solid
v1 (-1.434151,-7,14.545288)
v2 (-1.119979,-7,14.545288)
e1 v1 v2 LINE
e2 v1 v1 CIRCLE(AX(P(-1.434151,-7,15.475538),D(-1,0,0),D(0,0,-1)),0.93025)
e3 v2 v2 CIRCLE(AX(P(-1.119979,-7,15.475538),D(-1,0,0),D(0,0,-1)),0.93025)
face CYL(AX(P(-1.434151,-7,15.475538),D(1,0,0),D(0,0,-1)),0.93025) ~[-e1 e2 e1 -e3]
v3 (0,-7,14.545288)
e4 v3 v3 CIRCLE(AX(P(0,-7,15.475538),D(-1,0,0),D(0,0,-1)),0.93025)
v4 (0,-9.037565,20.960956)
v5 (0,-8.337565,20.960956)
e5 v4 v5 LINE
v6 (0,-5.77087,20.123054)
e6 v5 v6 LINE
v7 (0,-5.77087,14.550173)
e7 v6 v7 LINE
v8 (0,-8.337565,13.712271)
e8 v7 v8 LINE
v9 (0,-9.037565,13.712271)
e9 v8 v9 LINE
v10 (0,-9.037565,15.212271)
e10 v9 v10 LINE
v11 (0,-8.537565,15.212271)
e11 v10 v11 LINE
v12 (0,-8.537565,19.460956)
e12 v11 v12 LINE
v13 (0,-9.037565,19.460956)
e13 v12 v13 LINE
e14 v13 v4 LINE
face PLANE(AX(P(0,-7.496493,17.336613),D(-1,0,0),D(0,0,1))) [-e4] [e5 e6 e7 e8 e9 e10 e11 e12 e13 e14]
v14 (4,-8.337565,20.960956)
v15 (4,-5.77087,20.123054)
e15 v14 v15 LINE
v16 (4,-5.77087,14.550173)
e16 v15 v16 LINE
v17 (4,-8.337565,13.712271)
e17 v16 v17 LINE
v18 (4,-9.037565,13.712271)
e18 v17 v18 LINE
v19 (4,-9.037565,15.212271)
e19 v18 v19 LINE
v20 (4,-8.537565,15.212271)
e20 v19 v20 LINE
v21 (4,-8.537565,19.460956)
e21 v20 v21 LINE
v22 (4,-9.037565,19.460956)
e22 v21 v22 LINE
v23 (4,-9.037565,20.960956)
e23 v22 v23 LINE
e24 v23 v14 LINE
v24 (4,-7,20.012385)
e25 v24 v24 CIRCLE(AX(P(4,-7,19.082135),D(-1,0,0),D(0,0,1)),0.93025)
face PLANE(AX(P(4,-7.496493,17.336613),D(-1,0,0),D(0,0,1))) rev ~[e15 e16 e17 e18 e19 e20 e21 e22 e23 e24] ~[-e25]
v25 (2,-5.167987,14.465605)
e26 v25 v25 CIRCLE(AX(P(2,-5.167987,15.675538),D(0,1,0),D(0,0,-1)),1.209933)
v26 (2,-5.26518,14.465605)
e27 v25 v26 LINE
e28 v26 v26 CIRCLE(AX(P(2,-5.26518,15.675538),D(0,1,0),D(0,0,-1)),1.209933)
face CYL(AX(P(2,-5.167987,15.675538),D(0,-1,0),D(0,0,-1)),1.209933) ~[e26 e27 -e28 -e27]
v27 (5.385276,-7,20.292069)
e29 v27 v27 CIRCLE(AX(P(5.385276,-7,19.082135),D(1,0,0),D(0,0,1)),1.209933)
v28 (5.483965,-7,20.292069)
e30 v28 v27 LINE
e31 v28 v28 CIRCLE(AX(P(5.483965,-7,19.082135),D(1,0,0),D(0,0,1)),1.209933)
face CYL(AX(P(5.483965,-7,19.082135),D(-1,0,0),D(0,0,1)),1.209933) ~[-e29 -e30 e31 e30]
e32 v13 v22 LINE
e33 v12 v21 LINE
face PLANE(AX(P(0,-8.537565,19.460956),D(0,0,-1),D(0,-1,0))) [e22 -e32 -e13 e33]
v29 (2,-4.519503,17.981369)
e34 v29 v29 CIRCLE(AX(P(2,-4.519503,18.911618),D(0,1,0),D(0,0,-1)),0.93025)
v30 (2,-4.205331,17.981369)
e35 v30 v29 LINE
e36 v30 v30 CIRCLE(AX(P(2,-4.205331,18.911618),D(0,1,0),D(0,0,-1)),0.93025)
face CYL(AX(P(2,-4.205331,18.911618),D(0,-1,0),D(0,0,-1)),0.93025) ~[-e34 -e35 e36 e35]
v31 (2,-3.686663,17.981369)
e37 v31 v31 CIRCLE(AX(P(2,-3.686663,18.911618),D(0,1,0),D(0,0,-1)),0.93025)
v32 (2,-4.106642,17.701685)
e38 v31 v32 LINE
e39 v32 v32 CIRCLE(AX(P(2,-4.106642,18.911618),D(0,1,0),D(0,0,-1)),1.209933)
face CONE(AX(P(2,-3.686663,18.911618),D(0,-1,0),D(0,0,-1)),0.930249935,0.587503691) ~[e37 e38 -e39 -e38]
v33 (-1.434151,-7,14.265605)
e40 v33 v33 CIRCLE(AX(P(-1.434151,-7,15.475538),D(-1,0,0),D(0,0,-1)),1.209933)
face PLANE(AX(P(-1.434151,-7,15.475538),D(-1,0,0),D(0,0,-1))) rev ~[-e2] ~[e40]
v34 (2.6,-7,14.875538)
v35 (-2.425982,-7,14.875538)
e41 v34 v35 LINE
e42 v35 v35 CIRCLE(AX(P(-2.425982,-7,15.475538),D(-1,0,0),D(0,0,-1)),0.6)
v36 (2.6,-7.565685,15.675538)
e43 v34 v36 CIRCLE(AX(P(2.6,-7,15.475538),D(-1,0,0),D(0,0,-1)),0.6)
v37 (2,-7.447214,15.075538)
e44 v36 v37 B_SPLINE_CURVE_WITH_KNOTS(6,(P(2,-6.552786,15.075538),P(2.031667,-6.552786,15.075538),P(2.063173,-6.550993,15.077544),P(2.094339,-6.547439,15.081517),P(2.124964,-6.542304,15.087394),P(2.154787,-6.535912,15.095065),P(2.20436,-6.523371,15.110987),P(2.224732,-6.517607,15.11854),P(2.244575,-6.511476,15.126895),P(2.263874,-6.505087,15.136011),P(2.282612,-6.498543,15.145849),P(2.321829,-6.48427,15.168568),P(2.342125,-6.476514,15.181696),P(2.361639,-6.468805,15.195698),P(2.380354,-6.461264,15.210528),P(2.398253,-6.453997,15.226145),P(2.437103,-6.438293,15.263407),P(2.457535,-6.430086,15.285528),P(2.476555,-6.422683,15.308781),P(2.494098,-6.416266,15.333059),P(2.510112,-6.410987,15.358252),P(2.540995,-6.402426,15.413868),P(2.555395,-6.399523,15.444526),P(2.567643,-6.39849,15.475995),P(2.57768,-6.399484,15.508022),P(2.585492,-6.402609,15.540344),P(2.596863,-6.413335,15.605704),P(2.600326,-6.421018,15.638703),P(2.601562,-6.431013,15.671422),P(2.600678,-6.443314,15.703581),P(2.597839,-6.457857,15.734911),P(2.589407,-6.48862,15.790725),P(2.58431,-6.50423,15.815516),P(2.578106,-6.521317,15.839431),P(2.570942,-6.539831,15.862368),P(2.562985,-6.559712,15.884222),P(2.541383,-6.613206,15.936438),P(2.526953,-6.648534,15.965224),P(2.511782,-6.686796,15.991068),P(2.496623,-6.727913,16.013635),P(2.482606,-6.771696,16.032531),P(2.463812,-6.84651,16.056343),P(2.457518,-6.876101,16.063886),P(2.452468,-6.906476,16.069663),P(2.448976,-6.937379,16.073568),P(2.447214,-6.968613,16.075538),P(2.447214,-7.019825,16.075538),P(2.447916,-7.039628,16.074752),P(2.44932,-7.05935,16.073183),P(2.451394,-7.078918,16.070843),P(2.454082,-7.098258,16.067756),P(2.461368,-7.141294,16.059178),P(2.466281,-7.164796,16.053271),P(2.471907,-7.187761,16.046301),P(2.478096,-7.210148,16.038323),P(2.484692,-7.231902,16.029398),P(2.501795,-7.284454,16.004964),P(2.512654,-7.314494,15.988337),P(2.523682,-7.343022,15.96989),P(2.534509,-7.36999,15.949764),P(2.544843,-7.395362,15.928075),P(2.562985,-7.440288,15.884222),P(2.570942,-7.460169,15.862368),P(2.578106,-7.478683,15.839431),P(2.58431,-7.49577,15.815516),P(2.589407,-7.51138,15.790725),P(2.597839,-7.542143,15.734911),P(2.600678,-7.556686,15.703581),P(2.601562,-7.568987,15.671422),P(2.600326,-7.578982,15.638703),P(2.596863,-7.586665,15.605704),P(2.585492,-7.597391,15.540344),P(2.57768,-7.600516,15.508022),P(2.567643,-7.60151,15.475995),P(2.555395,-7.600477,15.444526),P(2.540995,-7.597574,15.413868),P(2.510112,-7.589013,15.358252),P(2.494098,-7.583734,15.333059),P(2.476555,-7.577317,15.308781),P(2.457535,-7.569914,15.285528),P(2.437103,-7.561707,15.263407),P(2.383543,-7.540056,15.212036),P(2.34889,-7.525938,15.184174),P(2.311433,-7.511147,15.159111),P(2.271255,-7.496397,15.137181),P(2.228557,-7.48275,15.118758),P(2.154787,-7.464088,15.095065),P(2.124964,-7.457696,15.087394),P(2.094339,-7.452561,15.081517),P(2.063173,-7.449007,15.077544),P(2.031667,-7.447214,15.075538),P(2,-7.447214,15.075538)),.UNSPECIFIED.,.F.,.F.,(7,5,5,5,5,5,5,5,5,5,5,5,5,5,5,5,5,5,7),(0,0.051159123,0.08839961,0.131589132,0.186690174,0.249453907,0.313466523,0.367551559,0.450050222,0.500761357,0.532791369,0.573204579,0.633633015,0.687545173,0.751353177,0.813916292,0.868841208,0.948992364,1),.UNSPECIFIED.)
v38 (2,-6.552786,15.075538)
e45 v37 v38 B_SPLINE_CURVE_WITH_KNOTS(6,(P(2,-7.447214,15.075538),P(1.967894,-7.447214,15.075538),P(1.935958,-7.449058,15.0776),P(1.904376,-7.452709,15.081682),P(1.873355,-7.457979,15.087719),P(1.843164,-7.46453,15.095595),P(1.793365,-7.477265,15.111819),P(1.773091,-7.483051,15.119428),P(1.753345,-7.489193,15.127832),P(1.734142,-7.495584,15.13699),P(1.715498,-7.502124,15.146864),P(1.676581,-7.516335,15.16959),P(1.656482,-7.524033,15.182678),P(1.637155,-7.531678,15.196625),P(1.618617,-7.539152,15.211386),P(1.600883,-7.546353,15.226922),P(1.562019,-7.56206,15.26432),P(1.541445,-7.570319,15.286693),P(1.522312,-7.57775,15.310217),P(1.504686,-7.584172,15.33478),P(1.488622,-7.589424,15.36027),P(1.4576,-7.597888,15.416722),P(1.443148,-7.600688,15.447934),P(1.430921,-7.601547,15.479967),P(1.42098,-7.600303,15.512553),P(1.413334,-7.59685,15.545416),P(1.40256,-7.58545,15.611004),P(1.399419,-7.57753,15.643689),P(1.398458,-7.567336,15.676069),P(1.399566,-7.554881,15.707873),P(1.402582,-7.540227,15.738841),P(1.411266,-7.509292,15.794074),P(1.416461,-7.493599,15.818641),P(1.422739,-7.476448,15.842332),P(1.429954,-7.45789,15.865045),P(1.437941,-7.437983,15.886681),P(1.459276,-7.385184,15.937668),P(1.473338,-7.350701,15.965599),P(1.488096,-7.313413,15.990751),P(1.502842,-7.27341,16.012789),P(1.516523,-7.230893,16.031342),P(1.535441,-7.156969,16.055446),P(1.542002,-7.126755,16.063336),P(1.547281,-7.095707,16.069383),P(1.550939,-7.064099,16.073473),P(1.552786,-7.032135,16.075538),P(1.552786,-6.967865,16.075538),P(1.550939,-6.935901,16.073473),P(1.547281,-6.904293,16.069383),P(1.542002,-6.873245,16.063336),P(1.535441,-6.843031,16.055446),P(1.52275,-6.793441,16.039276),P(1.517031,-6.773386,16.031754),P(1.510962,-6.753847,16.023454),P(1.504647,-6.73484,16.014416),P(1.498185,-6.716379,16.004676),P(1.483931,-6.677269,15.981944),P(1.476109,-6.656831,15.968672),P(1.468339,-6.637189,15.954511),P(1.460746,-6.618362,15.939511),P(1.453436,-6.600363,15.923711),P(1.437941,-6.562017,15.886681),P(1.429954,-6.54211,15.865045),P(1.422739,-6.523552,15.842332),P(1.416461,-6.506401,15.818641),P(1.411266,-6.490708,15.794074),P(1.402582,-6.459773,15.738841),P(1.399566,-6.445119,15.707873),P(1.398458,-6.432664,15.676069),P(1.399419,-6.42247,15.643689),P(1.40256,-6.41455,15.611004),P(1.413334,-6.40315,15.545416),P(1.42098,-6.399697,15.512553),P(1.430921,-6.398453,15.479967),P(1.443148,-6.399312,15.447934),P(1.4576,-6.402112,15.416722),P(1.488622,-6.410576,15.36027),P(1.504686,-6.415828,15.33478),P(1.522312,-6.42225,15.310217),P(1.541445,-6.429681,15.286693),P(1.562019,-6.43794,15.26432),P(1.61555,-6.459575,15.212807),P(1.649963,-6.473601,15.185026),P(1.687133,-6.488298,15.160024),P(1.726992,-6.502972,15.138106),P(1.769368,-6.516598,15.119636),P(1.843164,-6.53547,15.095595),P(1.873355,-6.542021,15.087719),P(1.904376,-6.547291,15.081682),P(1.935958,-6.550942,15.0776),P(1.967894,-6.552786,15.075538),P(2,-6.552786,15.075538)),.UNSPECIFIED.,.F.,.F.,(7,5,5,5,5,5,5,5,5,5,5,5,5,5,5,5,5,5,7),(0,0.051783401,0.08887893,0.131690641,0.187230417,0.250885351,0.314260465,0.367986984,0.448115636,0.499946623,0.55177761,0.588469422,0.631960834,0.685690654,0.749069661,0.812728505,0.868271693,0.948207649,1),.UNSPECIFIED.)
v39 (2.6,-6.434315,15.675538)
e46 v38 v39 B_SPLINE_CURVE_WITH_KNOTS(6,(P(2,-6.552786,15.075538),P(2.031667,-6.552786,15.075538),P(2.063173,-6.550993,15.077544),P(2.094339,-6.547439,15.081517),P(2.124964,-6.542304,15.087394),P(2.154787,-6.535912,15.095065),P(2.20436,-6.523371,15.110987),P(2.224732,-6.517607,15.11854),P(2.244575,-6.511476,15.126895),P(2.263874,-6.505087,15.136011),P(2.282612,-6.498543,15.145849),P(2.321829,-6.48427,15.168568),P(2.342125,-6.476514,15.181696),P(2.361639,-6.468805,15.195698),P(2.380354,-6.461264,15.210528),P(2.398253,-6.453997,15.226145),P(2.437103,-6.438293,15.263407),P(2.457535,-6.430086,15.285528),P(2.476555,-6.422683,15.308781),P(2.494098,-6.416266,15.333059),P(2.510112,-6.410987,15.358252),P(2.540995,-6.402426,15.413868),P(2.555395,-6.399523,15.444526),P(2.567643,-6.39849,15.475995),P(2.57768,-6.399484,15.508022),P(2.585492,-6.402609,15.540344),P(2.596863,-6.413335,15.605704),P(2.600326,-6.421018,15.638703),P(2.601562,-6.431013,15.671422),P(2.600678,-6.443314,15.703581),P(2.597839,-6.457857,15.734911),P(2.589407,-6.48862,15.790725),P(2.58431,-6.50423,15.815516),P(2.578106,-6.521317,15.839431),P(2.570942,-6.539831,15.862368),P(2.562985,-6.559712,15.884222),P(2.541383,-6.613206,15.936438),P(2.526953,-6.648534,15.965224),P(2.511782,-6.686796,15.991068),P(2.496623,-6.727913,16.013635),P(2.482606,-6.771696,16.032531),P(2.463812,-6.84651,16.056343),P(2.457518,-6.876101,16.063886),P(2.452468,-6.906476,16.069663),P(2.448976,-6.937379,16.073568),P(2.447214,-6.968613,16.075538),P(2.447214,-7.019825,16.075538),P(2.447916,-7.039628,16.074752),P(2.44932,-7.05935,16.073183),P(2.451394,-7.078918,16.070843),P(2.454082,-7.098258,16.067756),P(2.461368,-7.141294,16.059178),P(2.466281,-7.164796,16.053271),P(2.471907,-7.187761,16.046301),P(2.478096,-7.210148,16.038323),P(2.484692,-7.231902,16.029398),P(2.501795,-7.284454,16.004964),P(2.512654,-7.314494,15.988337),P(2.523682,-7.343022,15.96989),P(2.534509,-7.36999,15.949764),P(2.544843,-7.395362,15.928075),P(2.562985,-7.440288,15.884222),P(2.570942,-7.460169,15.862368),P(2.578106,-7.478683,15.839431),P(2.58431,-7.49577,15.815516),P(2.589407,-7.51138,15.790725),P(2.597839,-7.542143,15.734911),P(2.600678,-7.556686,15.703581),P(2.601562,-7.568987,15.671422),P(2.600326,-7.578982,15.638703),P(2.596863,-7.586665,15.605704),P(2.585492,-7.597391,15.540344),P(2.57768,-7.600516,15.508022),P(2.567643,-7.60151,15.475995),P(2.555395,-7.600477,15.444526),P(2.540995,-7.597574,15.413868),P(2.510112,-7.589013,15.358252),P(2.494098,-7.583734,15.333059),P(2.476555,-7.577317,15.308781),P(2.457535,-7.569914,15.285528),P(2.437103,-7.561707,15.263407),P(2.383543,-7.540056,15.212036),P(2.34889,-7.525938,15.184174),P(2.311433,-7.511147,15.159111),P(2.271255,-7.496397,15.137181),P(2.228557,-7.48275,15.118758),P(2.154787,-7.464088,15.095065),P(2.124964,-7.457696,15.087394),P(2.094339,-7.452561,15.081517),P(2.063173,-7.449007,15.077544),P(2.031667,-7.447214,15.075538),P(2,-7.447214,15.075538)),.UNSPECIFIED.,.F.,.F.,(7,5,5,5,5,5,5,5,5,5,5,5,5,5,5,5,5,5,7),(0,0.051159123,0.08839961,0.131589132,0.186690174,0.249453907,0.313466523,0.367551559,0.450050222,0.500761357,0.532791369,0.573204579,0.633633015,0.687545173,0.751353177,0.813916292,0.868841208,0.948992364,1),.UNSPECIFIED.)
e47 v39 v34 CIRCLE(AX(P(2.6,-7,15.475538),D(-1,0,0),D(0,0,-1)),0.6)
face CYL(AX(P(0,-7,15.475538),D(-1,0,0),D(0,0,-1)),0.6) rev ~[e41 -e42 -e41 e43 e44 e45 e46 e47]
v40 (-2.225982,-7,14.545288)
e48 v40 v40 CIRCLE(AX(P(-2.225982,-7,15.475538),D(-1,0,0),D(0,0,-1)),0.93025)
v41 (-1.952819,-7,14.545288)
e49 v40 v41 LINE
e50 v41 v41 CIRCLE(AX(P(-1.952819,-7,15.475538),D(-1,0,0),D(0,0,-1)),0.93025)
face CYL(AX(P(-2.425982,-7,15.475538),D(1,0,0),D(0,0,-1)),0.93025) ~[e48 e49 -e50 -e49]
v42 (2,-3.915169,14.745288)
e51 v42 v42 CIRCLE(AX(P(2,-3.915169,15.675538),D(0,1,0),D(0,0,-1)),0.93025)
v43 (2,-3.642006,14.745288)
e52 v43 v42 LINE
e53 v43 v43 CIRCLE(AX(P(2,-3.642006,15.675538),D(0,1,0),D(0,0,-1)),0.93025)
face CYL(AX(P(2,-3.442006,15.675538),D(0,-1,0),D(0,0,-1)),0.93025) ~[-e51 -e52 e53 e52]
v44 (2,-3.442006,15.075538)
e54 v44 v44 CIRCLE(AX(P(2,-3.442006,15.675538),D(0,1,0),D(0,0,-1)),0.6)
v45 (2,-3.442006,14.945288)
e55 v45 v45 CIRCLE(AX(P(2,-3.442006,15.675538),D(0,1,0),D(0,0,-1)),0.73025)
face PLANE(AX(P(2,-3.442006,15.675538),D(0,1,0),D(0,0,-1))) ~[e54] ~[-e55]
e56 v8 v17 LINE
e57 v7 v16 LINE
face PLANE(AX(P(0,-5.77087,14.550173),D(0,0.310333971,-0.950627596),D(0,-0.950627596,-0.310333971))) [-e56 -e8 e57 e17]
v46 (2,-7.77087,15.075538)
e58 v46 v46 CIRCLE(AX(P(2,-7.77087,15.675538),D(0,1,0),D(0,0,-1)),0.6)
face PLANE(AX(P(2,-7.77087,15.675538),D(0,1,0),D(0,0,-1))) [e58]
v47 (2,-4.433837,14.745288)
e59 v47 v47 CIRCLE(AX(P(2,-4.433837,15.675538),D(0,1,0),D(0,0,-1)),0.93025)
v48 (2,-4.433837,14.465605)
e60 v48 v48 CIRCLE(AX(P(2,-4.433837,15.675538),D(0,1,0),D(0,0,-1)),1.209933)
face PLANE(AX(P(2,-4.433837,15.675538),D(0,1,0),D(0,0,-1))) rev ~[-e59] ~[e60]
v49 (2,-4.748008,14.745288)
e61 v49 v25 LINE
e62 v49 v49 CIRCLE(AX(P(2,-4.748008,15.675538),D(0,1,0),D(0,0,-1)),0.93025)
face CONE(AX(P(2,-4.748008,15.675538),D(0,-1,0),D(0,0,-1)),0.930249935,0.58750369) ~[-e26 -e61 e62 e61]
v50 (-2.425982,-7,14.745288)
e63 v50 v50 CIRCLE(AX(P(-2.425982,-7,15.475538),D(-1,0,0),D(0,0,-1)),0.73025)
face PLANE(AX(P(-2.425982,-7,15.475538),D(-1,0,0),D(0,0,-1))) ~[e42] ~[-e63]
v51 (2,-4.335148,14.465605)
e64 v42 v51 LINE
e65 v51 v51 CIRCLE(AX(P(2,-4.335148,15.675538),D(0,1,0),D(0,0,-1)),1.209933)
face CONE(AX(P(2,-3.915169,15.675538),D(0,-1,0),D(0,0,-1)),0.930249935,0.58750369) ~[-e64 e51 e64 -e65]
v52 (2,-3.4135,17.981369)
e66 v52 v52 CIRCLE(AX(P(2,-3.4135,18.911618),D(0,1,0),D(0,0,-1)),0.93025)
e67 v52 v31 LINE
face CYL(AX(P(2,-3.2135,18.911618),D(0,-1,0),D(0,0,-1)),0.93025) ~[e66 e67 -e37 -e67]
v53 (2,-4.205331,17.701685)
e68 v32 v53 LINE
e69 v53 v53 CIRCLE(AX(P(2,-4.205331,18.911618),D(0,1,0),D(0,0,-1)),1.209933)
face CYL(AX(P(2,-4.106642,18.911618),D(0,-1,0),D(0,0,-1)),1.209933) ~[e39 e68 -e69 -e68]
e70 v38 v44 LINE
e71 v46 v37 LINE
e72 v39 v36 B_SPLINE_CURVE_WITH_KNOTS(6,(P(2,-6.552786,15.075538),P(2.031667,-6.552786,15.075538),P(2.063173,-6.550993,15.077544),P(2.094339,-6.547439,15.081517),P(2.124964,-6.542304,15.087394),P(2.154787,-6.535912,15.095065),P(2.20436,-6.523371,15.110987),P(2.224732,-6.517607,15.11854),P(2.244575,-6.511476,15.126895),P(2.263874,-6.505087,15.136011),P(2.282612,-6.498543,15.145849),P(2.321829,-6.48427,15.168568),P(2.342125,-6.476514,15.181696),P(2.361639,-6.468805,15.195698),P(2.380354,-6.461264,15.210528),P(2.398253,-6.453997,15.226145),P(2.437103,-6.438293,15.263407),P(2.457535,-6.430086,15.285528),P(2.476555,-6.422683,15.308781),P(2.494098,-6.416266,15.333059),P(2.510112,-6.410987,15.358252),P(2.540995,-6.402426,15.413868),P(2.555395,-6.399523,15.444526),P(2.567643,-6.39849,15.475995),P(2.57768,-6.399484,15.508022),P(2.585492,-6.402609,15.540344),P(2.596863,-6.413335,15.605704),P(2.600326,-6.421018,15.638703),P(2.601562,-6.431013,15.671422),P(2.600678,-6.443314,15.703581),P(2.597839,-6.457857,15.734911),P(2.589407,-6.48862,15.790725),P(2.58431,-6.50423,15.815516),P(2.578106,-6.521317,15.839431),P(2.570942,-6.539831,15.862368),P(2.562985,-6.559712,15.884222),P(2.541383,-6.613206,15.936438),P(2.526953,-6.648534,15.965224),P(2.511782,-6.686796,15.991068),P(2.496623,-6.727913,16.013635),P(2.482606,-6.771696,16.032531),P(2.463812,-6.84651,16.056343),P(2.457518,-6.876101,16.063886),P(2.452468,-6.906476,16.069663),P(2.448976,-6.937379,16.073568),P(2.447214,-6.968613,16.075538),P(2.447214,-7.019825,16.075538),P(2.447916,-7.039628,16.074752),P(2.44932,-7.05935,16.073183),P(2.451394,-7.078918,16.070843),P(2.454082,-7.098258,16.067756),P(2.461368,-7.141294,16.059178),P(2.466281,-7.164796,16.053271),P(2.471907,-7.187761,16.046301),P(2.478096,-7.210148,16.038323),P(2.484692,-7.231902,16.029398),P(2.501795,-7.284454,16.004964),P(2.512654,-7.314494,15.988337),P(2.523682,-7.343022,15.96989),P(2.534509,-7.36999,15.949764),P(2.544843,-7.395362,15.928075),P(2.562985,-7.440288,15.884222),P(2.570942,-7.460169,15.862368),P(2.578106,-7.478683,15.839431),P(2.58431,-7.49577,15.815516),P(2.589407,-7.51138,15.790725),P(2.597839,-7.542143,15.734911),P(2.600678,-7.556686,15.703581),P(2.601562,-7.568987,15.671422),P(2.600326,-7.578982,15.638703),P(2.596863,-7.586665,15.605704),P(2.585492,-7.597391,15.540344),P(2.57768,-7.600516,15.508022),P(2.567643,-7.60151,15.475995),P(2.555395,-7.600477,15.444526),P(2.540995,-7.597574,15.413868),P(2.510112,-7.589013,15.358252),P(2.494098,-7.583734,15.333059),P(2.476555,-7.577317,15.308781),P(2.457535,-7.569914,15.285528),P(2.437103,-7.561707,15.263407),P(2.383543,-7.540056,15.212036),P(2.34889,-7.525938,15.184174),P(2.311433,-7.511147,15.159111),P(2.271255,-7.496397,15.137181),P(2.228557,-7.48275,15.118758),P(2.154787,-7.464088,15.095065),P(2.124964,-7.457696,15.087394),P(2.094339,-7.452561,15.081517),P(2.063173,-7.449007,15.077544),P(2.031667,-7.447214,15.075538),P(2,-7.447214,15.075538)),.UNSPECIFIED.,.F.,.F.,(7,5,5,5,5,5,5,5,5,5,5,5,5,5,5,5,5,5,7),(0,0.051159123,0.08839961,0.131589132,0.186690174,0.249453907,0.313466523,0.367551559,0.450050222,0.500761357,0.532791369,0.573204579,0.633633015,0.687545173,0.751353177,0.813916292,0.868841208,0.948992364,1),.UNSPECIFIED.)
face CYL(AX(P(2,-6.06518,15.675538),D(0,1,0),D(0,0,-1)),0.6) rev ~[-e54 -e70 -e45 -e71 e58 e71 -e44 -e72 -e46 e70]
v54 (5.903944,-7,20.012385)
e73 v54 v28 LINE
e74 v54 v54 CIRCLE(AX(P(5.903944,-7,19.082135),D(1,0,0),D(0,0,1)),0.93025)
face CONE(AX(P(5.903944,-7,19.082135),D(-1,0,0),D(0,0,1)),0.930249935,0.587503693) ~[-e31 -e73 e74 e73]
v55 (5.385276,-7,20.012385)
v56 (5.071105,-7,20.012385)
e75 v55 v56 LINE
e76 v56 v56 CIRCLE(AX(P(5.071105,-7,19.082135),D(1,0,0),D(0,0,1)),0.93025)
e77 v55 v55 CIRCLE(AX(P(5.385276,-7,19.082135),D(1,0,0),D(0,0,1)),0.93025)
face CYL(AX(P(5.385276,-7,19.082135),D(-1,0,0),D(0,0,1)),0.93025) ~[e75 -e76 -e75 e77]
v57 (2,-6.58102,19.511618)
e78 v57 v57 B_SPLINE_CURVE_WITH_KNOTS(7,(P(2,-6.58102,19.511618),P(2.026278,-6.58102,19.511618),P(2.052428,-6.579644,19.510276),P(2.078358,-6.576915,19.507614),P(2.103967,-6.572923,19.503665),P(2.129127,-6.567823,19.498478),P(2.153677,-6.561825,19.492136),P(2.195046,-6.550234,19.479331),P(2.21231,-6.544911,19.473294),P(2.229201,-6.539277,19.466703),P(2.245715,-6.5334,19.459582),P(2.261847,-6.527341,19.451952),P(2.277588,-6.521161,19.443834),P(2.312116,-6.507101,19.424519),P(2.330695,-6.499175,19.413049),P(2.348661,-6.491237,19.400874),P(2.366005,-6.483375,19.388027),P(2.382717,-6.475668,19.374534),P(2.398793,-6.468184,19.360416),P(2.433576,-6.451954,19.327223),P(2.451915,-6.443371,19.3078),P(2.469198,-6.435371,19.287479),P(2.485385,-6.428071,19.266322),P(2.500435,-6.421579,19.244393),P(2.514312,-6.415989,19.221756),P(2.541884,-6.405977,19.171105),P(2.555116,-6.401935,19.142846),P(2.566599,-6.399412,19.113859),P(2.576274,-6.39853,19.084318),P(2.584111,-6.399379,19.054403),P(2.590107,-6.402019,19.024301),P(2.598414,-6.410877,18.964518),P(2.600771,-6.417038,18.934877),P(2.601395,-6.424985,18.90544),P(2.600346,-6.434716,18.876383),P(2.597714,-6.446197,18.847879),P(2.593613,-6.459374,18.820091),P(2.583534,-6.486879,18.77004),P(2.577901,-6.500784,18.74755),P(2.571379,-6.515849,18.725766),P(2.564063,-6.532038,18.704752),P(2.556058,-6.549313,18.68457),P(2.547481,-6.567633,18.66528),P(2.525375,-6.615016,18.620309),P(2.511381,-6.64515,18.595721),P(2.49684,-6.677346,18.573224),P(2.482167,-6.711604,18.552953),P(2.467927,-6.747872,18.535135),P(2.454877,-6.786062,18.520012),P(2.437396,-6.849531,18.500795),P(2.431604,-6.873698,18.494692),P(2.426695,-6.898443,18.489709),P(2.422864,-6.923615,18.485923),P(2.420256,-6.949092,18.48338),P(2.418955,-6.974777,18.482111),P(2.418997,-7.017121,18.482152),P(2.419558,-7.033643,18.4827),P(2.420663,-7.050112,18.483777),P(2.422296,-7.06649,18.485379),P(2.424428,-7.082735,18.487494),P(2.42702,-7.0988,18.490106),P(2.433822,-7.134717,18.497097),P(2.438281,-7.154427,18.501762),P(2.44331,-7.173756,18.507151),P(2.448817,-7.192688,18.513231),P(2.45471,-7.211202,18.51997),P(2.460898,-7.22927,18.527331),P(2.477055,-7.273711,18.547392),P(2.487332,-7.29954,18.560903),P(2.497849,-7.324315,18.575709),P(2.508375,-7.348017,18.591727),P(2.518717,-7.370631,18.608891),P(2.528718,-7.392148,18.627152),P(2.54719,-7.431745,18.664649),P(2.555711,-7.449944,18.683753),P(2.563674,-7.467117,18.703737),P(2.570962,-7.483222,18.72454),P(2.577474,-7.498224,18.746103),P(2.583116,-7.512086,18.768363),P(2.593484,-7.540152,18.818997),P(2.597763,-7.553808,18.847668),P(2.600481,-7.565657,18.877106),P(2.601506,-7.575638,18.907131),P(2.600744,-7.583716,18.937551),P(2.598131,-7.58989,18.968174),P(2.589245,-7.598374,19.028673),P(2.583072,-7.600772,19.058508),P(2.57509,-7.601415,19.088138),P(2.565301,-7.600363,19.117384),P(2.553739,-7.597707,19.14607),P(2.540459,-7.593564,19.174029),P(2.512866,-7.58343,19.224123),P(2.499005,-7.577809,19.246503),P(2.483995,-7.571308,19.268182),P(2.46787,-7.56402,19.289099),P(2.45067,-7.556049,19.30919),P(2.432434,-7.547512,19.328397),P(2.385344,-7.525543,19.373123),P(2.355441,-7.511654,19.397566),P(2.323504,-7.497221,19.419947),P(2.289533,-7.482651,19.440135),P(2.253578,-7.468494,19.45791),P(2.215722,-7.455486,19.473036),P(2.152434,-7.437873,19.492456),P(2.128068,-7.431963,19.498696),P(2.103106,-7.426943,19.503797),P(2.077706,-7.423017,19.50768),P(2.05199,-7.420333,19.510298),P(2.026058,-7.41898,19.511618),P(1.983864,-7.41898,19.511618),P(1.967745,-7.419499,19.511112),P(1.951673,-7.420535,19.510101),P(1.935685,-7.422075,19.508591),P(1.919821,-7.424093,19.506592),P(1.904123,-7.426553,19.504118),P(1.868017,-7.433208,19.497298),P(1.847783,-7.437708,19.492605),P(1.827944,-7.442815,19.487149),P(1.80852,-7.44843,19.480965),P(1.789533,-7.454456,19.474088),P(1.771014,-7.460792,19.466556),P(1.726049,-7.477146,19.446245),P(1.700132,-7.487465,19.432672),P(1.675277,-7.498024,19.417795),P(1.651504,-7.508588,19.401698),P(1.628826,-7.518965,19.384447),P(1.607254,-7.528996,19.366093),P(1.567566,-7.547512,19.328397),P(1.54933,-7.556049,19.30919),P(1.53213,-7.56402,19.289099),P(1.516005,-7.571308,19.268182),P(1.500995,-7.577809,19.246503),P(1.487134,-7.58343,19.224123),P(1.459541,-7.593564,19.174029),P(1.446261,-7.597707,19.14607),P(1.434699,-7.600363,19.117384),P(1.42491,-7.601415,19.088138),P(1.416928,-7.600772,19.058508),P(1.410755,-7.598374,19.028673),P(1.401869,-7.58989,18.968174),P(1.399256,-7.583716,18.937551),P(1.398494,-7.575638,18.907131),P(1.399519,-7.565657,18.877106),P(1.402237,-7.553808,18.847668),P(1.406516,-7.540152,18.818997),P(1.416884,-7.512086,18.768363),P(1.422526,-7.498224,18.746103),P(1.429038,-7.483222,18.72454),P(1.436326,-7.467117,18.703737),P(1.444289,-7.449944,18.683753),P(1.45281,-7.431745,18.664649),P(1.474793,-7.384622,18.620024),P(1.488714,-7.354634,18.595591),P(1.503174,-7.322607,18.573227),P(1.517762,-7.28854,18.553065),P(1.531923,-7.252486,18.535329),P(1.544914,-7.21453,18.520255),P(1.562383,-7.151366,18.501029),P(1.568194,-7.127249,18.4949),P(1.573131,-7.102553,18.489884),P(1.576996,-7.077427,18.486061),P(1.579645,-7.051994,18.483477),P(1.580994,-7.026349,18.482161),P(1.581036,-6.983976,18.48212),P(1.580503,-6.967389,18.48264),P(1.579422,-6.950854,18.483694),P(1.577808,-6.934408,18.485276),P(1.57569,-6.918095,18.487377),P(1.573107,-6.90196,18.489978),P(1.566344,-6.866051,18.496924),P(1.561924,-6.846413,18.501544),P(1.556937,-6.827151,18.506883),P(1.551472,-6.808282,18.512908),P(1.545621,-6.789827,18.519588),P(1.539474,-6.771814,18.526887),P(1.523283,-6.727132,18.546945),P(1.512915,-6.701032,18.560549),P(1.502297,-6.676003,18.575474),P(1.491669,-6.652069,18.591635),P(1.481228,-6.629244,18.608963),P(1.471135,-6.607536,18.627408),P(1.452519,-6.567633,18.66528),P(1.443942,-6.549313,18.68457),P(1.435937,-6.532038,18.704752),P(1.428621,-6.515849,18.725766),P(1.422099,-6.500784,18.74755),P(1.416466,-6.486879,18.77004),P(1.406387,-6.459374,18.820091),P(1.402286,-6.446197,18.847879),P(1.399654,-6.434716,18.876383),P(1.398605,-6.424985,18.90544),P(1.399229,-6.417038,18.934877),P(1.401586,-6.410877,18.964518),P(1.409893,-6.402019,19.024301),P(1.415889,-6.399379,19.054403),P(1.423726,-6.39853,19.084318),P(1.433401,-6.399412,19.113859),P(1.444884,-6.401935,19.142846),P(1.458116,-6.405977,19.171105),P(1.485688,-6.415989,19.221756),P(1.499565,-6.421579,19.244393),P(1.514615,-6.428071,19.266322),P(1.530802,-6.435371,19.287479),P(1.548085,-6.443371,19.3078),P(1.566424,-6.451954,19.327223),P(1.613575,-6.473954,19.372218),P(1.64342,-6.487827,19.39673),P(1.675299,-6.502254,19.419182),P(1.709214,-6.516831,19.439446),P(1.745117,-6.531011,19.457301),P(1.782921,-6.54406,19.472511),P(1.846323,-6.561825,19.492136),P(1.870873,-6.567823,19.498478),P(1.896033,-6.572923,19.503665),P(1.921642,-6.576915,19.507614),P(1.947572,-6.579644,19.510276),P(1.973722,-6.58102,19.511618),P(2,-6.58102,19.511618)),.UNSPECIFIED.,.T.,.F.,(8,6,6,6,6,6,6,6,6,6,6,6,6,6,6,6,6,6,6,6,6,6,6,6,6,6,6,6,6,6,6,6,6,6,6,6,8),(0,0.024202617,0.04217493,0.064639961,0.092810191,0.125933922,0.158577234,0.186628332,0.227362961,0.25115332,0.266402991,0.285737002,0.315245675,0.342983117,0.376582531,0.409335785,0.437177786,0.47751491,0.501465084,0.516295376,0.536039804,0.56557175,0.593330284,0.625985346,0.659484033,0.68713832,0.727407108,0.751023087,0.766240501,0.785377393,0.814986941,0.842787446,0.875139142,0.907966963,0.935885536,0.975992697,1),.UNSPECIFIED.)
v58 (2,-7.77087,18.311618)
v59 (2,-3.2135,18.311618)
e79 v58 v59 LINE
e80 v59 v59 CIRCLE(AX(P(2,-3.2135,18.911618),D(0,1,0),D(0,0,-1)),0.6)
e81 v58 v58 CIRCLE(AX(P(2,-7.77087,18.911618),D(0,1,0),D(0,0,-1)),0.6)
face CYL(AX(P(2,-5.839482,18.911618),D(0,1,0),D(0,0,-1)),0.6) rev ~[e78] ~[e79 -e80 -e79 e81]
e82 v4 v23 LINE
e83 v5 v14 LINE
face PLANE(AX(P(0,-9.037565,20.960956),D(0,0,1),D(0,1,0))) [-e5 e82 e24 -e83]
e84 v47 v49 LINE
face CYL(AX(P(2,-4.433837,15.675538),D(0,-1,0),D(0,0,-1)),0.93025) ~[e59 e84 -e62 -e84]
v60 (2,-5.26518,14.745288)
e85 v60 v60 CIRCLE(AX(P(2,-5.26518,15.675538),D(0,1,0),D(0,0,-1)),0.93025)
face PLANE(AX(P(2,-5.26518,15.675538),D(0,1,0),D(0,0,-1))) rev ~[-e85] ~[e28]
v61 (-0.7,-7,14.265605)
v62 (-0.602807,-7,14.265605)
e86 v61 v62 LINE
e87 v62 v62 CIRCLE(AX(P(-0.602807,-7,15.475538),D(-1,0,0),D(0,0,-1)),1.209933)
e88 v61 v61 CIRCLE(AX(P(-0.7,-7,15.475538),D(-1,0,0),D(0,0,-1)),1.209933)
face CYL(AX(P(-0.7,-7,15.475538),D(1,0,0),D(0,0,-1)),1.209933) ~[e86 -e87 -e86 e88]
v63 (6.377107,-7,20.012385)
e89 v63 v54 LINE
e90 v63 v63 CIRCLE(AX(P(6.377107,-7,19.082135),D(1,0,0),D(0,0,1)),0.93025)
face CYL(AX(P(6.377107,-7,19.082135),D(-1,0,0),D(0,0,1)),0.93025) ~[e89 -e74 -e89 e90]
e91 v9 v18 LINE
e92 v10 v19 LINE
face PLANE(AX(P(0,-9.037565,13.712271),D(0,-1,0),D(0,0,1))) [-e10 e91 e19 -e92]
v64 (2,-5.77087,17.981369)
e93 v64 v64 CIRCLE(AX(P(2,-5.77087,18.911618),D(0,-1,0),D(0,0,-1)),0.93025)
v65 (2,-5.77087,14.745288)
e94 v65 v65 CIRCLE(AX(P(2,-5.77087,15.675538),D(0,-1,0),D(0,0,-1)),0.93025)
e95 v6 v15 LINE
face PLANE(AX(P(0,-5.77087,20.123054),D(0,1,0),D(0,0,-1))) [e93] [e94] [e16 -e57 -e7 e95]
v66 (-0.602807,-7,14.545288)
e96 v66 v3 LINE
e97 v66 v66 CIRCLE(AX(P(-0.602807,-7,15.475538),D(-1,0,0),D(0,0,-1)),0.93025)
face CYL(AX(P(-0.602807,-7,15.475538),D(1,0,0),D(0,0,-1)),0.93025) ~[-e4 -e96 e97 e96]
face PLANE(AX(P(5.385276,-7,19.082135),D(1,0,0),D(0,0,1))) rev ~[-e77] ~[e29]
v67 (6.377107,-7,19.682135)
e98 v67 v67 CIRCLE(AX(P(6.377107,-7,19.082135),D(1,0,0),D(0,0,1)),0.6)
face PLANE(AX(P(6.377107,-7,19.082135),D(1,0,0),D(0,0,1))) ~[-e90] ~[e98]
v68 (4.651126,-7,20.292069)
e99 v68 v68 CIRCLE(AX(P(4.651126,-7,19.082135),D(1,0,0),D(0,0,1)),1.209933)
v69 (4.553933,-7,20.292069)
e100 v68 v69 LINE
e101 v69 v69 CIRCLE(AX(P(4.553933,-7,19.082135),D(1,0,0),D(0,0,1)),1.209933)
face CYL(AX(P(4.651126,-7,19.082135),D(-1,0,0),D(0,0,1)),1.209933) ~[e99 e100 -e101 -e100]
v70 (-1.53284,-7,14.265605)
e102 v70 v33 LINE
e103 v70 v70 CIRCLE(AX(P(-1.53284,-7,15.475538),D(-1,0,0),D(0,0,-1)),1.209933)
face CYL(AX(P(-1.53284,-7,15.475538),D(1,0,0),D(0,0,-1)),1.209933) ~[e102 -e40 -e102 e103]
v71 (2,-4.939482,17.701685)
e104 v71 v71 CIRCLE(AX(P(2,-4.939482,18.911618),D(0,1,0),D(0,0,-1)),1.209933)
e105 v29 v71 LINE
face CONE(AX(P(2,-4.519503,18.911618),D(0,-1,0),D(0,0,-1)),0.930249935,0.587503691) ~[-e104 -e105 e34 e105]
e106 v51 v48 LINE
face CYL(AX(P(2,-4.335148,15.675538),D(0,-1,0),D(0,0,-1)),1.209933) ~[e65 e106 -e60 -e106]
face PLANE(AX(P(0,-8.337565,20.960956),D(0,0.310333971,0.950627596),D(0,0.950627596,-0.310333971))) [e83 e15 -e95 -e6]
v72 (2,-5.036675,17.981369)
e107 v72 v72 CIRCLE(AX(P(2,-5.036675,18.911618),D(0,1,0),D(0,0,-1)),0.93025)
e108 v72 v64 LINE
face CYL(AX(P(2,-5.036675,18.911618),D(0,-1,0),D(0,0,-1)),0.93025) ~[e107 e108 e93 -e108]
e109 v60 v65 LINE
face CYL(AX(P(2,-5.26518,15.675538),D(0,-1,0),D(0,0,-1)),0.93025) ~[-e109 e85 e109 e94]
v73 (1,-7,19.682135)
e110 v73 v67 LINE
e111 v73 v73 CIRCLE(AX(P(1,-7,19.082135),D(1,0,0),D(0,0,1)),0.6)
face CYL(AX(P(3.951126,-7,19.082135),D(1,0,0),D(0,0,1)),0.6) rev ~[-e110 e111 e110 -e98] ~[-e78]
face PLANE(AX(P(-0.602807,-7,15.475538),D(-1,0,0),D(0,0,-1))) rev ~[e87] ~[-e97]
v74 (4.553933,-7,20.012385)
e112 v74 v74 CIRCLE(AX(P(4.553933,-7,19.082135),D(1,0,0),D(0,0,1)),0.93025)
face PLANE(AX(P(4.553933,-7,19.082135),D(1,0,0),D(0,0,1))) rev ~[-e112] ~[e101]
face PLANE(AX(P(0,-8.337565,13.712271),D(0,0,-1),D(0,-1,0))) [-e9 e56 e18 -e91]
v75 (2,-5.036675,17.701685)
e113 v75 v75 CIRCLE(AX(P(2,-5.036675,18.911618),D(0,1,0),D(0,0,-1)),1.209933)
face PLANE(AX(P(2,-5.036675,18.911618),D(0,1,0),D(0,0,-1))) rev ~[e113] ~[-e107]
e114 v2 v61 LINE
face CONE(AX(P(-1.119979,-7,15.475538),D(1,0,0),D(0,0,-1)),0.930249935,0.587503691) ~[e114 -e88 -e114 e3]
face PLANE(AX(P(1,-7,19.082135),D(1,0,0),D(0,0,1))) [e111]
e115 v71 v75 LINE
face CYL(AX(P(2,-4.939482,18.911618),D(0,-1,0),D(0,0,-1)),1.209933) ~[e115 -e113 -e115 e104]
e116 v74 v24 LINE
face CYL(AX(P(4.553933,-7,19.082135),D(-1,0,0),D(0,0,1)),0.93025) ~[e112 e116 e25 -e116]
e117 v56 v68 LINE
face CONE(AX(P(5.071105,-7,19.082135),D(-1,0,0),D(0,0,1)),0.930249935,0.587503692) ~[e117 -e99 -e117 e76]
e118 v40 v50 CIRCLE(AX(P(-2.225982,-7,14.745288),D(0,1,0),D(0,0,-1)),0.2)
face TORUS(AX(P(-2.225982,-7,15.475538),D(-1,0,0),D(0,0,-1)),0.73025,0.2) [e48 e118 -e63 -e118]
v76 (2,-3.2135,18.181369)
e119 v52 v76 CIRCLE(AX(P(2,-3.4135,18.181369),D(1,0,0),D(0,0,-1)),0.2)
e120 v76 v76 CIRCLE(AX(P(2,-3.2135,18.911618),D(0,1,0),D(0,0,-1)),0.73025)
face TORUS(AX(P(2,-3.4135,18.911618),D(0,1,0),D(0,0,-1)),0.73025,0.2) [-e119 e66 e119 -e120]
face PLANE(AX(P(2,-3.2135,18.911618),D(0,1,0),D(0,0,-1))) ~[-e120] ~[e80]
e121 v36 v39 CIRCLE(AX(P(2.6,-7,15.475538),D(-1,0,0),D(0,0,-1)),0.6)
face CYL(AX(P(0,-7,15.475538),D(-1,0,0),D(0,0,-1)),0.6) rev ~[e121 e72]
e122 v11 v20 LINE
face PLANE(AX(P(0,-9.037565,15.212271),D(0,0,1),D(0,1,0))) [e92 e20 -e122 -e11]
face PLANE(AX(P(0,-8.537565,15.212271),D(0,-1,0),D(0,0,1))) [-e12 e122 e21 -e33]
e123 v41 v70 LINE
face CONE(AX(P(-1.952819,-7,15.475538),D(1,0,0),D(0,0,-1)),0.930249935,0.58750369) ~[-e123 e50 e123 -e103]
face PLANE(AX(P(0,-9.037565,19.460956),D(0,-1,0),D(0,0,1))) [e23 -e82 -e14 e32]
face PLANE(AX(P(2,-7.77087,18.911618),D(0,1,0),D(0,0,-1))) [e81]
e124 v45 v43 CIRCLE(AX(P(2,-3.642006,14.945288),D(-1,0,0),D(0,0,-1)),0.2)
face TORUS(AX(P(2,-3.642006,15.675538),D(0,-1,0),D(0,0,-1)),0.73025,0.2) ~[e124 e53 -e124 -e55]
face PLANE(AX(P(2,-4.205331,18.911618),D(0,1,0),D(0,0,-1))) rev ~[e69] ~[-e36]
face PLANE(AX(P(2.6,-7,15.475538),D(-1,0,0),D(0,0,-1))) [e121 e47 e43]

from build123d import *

# Parameters (mm, degrees)
BOSS_EXTRUDE2_DEPTH = 4
SKETCH10_R          = 0.6
CUT_EXTRUDE3_DEPTH  = 2
SKETCH14_R          = 0.6
CUT_EXTRUDE5_DEPTH  = 2.6
SKETCH15_R          = 0.6
CUT_EXTRUDE6_DEPTH  = 3
FILLET3_R           = 0.2


with BuildPart() as part:
    # Sketch3 → Boss-Extrude2 (new body)
    with BuildSketch(Plane(origin=(0, 0, 0), x_dir=(0, 0, -1), z_dir=(1, 0, 0))):
        Polygon((-20.123053839, -5.770870406), (-14.550172907, -5.770870406), (-13.712271186, -8.337564915), (-13.712271186, -9.037564915), (-15.212271186, -9.037564915), (-15.212271186, -8.537564915), (-19.46095556, -8.537564915), (-19.46095556, -9.037564915), (-20.96095556, -9.037564915), (-20.96095556, -8.337564915), align=None)
    extrude(amount=BOSS_EXTRUDE2_DEPTH)

    # Sketch5 → Revolve2 (revolve)
    with BuildSketch(Plane(origin=(2, 0, 0), x_dir=(0, 0, -1), z_dir=(1, 0, 0)), mode=Mode.PRIVATE) as revolve2_sk:
        Polygon((-19.841868378, -5.839481614), (-19.511618443, -5.839481614), (-19.511618443, -3.21350004), (-19.841868378, -3.21350004), (-19.841868378, -3.686663005), (-20.121551797, -4.10664197), (-20.121551797, -4.205331029), (-19.841868378, -4.205331029), (-19.841868378, -4.519502648), (-20.121551797, -4.939481613), (-20.121551797, -5.036674624), (-19.841868378, -5.036674624), align=None)
    revolve(revolve2_sk.sketch.rotate(Axis((2, -5.639481613, 18.911618443), (0, 1, 0)), 180), axis=Axis((2, -5.639481613, 18.911618443), (0, 1, 0)))

    # Sketch6 → Revolve3 (revolve)
    with BuildSketch(Plane(origin=(2, 0, 0), x_dir=(0, 0, -1), z_dir=(1, 0, 0)), mode=Mode.PRIVATE) as revolve3_sk:
        Polygon((-16.605788013, -6.065180205), (-16.275538078, -6.065180205), (-16.275538078, -3.44200562), (-16.605788013, -3.44200562), (-16.605788013, -3.915168585), (-16.885471432, -4.335147551), (-16.885471432, -4.433836609), (-16.605788013, -4.433836609), (-16.605788013, -4.748008228), (-16.885471432, -5.167987194), (-16.885471432, -5.265180205), (-16.605788013, -5.265180205), align=None)
    revolve(revolve3_sk.sketch.rotate(Axis((2, -6.067987194, 15.675538078), (0, 1, 0)), 180), axis=Axis((2, -6.067987194, 15.675538078), (0, 1, 0)))

    # Sketch10 → Cut-Extrude3 (cut)
    with BuildSketch(Plane(origin=(0, -5.770870406, 0), x_dir=(1, 0, 0), z_dir=(0, 1, 0))):
        with Locations(Location((2, -18.911618443, 0), (0, 0, 90))):
            Circle(SKETCH10_R)
        with Locations(Location((2, -15.675538078, 0), (0, 0, 90))):
            Circle(SKETCH10_R)
    extrude(amount=-CUT_EXTRUDE3_DEPTH, mode=Mode.SUBTRACT)

    # Sketch12 → Revolve5 (revolve)
    with BuildSketch(Plane(origin=(0, -7, 0), x_dir=(1, 0, 0), z_dir=(0, 1, 0)), mode=Mode.PRIVATE) as revolve5_sk:
        Polygon((0, -16.405788013), (0, -16.075538078), (-2.425981573, -16.075538078), (-2.425981573, -16.405788013), (-1.952818609, -16.405788013), (-1.532839643, -16.685471432), (-1.434150585, -16.685471432), (-1.434150585, -16.405788013), (-1.119978965, -16.405788013), (-0.7, -16.685471432), (-0.602806989, -16.685471432), (-0.602806989, -16.405788013), align=None)
    revolve(revolve5_sk.sketch.rotate(Axis((0, -7, 15.475538078), (-1, 0, 0)), 180), axis=Axis((0, -7, 15.475538078), (-1, 0, 0)))

    # Sketch13 → Revolve6 (revolve)
    with BuildSketch(Plane(origin=(0, -7, 0), x_dir=(1, 0, 0), z_dir=(0, 1, 0))):
        Polygon((4.553932823, -20.292068689), (4.553932823, -20.012385269), (3.951125834, -20.012385269), (3.951125834, -19.682135334), (6.377107408, -19.682135334), (6.377107408, -20.012385269), (5.903944443, -20.012385269), (5.483965478, -20.292068689), (5.385276419, -20.292068689), (5.385276419, -20.012385269), (5.0711048, -20.012385269), (4.651125834, -20.292068689), align=None)
    revolve(axis=Axis((3.951125834, -7, 19.082135334), (1, 0, 0)))

    # Sketch14 → Cut-Extrude5 (cut)
    with BuildSketch(Plane.ZY):
        with Locations(Location((15.475538078, -7, 0), (0, 0, 180))):
            Circle(SKETCH14_R)
    extrude(amount=-CUT_EXTRUDE5_DEPTH, mode=Mode.SUBTRACT)

    # Sketch15 → Cut-Extrude6 (cut)
    with BuildSketch(Plane(origin=(4, 0, 0), x_dir=(0, 0, -1), z_dir=(1, 0, 0))):
        with Locations(Location((-19.082135334, -7, 0), (0, 0, 180))):
            Circle(SKETCH15_R)
    extrude(amount=-CUT_EXTRUDE6_DEPTH, mode=Mode.SUBTRACT)

    # Fillet3
    fillet3_edges = [part.edges().sort_by_distance(p)[0] for p in [
        (2, -3.21350004, 19.841868378),
        (2, -3.44200562, 16.605788013),
        (-2.425981573, -7, 16.405788013),
    ]]
    fillet(fillet3_edges, radius=FILLET3_R)


solid = part.part
